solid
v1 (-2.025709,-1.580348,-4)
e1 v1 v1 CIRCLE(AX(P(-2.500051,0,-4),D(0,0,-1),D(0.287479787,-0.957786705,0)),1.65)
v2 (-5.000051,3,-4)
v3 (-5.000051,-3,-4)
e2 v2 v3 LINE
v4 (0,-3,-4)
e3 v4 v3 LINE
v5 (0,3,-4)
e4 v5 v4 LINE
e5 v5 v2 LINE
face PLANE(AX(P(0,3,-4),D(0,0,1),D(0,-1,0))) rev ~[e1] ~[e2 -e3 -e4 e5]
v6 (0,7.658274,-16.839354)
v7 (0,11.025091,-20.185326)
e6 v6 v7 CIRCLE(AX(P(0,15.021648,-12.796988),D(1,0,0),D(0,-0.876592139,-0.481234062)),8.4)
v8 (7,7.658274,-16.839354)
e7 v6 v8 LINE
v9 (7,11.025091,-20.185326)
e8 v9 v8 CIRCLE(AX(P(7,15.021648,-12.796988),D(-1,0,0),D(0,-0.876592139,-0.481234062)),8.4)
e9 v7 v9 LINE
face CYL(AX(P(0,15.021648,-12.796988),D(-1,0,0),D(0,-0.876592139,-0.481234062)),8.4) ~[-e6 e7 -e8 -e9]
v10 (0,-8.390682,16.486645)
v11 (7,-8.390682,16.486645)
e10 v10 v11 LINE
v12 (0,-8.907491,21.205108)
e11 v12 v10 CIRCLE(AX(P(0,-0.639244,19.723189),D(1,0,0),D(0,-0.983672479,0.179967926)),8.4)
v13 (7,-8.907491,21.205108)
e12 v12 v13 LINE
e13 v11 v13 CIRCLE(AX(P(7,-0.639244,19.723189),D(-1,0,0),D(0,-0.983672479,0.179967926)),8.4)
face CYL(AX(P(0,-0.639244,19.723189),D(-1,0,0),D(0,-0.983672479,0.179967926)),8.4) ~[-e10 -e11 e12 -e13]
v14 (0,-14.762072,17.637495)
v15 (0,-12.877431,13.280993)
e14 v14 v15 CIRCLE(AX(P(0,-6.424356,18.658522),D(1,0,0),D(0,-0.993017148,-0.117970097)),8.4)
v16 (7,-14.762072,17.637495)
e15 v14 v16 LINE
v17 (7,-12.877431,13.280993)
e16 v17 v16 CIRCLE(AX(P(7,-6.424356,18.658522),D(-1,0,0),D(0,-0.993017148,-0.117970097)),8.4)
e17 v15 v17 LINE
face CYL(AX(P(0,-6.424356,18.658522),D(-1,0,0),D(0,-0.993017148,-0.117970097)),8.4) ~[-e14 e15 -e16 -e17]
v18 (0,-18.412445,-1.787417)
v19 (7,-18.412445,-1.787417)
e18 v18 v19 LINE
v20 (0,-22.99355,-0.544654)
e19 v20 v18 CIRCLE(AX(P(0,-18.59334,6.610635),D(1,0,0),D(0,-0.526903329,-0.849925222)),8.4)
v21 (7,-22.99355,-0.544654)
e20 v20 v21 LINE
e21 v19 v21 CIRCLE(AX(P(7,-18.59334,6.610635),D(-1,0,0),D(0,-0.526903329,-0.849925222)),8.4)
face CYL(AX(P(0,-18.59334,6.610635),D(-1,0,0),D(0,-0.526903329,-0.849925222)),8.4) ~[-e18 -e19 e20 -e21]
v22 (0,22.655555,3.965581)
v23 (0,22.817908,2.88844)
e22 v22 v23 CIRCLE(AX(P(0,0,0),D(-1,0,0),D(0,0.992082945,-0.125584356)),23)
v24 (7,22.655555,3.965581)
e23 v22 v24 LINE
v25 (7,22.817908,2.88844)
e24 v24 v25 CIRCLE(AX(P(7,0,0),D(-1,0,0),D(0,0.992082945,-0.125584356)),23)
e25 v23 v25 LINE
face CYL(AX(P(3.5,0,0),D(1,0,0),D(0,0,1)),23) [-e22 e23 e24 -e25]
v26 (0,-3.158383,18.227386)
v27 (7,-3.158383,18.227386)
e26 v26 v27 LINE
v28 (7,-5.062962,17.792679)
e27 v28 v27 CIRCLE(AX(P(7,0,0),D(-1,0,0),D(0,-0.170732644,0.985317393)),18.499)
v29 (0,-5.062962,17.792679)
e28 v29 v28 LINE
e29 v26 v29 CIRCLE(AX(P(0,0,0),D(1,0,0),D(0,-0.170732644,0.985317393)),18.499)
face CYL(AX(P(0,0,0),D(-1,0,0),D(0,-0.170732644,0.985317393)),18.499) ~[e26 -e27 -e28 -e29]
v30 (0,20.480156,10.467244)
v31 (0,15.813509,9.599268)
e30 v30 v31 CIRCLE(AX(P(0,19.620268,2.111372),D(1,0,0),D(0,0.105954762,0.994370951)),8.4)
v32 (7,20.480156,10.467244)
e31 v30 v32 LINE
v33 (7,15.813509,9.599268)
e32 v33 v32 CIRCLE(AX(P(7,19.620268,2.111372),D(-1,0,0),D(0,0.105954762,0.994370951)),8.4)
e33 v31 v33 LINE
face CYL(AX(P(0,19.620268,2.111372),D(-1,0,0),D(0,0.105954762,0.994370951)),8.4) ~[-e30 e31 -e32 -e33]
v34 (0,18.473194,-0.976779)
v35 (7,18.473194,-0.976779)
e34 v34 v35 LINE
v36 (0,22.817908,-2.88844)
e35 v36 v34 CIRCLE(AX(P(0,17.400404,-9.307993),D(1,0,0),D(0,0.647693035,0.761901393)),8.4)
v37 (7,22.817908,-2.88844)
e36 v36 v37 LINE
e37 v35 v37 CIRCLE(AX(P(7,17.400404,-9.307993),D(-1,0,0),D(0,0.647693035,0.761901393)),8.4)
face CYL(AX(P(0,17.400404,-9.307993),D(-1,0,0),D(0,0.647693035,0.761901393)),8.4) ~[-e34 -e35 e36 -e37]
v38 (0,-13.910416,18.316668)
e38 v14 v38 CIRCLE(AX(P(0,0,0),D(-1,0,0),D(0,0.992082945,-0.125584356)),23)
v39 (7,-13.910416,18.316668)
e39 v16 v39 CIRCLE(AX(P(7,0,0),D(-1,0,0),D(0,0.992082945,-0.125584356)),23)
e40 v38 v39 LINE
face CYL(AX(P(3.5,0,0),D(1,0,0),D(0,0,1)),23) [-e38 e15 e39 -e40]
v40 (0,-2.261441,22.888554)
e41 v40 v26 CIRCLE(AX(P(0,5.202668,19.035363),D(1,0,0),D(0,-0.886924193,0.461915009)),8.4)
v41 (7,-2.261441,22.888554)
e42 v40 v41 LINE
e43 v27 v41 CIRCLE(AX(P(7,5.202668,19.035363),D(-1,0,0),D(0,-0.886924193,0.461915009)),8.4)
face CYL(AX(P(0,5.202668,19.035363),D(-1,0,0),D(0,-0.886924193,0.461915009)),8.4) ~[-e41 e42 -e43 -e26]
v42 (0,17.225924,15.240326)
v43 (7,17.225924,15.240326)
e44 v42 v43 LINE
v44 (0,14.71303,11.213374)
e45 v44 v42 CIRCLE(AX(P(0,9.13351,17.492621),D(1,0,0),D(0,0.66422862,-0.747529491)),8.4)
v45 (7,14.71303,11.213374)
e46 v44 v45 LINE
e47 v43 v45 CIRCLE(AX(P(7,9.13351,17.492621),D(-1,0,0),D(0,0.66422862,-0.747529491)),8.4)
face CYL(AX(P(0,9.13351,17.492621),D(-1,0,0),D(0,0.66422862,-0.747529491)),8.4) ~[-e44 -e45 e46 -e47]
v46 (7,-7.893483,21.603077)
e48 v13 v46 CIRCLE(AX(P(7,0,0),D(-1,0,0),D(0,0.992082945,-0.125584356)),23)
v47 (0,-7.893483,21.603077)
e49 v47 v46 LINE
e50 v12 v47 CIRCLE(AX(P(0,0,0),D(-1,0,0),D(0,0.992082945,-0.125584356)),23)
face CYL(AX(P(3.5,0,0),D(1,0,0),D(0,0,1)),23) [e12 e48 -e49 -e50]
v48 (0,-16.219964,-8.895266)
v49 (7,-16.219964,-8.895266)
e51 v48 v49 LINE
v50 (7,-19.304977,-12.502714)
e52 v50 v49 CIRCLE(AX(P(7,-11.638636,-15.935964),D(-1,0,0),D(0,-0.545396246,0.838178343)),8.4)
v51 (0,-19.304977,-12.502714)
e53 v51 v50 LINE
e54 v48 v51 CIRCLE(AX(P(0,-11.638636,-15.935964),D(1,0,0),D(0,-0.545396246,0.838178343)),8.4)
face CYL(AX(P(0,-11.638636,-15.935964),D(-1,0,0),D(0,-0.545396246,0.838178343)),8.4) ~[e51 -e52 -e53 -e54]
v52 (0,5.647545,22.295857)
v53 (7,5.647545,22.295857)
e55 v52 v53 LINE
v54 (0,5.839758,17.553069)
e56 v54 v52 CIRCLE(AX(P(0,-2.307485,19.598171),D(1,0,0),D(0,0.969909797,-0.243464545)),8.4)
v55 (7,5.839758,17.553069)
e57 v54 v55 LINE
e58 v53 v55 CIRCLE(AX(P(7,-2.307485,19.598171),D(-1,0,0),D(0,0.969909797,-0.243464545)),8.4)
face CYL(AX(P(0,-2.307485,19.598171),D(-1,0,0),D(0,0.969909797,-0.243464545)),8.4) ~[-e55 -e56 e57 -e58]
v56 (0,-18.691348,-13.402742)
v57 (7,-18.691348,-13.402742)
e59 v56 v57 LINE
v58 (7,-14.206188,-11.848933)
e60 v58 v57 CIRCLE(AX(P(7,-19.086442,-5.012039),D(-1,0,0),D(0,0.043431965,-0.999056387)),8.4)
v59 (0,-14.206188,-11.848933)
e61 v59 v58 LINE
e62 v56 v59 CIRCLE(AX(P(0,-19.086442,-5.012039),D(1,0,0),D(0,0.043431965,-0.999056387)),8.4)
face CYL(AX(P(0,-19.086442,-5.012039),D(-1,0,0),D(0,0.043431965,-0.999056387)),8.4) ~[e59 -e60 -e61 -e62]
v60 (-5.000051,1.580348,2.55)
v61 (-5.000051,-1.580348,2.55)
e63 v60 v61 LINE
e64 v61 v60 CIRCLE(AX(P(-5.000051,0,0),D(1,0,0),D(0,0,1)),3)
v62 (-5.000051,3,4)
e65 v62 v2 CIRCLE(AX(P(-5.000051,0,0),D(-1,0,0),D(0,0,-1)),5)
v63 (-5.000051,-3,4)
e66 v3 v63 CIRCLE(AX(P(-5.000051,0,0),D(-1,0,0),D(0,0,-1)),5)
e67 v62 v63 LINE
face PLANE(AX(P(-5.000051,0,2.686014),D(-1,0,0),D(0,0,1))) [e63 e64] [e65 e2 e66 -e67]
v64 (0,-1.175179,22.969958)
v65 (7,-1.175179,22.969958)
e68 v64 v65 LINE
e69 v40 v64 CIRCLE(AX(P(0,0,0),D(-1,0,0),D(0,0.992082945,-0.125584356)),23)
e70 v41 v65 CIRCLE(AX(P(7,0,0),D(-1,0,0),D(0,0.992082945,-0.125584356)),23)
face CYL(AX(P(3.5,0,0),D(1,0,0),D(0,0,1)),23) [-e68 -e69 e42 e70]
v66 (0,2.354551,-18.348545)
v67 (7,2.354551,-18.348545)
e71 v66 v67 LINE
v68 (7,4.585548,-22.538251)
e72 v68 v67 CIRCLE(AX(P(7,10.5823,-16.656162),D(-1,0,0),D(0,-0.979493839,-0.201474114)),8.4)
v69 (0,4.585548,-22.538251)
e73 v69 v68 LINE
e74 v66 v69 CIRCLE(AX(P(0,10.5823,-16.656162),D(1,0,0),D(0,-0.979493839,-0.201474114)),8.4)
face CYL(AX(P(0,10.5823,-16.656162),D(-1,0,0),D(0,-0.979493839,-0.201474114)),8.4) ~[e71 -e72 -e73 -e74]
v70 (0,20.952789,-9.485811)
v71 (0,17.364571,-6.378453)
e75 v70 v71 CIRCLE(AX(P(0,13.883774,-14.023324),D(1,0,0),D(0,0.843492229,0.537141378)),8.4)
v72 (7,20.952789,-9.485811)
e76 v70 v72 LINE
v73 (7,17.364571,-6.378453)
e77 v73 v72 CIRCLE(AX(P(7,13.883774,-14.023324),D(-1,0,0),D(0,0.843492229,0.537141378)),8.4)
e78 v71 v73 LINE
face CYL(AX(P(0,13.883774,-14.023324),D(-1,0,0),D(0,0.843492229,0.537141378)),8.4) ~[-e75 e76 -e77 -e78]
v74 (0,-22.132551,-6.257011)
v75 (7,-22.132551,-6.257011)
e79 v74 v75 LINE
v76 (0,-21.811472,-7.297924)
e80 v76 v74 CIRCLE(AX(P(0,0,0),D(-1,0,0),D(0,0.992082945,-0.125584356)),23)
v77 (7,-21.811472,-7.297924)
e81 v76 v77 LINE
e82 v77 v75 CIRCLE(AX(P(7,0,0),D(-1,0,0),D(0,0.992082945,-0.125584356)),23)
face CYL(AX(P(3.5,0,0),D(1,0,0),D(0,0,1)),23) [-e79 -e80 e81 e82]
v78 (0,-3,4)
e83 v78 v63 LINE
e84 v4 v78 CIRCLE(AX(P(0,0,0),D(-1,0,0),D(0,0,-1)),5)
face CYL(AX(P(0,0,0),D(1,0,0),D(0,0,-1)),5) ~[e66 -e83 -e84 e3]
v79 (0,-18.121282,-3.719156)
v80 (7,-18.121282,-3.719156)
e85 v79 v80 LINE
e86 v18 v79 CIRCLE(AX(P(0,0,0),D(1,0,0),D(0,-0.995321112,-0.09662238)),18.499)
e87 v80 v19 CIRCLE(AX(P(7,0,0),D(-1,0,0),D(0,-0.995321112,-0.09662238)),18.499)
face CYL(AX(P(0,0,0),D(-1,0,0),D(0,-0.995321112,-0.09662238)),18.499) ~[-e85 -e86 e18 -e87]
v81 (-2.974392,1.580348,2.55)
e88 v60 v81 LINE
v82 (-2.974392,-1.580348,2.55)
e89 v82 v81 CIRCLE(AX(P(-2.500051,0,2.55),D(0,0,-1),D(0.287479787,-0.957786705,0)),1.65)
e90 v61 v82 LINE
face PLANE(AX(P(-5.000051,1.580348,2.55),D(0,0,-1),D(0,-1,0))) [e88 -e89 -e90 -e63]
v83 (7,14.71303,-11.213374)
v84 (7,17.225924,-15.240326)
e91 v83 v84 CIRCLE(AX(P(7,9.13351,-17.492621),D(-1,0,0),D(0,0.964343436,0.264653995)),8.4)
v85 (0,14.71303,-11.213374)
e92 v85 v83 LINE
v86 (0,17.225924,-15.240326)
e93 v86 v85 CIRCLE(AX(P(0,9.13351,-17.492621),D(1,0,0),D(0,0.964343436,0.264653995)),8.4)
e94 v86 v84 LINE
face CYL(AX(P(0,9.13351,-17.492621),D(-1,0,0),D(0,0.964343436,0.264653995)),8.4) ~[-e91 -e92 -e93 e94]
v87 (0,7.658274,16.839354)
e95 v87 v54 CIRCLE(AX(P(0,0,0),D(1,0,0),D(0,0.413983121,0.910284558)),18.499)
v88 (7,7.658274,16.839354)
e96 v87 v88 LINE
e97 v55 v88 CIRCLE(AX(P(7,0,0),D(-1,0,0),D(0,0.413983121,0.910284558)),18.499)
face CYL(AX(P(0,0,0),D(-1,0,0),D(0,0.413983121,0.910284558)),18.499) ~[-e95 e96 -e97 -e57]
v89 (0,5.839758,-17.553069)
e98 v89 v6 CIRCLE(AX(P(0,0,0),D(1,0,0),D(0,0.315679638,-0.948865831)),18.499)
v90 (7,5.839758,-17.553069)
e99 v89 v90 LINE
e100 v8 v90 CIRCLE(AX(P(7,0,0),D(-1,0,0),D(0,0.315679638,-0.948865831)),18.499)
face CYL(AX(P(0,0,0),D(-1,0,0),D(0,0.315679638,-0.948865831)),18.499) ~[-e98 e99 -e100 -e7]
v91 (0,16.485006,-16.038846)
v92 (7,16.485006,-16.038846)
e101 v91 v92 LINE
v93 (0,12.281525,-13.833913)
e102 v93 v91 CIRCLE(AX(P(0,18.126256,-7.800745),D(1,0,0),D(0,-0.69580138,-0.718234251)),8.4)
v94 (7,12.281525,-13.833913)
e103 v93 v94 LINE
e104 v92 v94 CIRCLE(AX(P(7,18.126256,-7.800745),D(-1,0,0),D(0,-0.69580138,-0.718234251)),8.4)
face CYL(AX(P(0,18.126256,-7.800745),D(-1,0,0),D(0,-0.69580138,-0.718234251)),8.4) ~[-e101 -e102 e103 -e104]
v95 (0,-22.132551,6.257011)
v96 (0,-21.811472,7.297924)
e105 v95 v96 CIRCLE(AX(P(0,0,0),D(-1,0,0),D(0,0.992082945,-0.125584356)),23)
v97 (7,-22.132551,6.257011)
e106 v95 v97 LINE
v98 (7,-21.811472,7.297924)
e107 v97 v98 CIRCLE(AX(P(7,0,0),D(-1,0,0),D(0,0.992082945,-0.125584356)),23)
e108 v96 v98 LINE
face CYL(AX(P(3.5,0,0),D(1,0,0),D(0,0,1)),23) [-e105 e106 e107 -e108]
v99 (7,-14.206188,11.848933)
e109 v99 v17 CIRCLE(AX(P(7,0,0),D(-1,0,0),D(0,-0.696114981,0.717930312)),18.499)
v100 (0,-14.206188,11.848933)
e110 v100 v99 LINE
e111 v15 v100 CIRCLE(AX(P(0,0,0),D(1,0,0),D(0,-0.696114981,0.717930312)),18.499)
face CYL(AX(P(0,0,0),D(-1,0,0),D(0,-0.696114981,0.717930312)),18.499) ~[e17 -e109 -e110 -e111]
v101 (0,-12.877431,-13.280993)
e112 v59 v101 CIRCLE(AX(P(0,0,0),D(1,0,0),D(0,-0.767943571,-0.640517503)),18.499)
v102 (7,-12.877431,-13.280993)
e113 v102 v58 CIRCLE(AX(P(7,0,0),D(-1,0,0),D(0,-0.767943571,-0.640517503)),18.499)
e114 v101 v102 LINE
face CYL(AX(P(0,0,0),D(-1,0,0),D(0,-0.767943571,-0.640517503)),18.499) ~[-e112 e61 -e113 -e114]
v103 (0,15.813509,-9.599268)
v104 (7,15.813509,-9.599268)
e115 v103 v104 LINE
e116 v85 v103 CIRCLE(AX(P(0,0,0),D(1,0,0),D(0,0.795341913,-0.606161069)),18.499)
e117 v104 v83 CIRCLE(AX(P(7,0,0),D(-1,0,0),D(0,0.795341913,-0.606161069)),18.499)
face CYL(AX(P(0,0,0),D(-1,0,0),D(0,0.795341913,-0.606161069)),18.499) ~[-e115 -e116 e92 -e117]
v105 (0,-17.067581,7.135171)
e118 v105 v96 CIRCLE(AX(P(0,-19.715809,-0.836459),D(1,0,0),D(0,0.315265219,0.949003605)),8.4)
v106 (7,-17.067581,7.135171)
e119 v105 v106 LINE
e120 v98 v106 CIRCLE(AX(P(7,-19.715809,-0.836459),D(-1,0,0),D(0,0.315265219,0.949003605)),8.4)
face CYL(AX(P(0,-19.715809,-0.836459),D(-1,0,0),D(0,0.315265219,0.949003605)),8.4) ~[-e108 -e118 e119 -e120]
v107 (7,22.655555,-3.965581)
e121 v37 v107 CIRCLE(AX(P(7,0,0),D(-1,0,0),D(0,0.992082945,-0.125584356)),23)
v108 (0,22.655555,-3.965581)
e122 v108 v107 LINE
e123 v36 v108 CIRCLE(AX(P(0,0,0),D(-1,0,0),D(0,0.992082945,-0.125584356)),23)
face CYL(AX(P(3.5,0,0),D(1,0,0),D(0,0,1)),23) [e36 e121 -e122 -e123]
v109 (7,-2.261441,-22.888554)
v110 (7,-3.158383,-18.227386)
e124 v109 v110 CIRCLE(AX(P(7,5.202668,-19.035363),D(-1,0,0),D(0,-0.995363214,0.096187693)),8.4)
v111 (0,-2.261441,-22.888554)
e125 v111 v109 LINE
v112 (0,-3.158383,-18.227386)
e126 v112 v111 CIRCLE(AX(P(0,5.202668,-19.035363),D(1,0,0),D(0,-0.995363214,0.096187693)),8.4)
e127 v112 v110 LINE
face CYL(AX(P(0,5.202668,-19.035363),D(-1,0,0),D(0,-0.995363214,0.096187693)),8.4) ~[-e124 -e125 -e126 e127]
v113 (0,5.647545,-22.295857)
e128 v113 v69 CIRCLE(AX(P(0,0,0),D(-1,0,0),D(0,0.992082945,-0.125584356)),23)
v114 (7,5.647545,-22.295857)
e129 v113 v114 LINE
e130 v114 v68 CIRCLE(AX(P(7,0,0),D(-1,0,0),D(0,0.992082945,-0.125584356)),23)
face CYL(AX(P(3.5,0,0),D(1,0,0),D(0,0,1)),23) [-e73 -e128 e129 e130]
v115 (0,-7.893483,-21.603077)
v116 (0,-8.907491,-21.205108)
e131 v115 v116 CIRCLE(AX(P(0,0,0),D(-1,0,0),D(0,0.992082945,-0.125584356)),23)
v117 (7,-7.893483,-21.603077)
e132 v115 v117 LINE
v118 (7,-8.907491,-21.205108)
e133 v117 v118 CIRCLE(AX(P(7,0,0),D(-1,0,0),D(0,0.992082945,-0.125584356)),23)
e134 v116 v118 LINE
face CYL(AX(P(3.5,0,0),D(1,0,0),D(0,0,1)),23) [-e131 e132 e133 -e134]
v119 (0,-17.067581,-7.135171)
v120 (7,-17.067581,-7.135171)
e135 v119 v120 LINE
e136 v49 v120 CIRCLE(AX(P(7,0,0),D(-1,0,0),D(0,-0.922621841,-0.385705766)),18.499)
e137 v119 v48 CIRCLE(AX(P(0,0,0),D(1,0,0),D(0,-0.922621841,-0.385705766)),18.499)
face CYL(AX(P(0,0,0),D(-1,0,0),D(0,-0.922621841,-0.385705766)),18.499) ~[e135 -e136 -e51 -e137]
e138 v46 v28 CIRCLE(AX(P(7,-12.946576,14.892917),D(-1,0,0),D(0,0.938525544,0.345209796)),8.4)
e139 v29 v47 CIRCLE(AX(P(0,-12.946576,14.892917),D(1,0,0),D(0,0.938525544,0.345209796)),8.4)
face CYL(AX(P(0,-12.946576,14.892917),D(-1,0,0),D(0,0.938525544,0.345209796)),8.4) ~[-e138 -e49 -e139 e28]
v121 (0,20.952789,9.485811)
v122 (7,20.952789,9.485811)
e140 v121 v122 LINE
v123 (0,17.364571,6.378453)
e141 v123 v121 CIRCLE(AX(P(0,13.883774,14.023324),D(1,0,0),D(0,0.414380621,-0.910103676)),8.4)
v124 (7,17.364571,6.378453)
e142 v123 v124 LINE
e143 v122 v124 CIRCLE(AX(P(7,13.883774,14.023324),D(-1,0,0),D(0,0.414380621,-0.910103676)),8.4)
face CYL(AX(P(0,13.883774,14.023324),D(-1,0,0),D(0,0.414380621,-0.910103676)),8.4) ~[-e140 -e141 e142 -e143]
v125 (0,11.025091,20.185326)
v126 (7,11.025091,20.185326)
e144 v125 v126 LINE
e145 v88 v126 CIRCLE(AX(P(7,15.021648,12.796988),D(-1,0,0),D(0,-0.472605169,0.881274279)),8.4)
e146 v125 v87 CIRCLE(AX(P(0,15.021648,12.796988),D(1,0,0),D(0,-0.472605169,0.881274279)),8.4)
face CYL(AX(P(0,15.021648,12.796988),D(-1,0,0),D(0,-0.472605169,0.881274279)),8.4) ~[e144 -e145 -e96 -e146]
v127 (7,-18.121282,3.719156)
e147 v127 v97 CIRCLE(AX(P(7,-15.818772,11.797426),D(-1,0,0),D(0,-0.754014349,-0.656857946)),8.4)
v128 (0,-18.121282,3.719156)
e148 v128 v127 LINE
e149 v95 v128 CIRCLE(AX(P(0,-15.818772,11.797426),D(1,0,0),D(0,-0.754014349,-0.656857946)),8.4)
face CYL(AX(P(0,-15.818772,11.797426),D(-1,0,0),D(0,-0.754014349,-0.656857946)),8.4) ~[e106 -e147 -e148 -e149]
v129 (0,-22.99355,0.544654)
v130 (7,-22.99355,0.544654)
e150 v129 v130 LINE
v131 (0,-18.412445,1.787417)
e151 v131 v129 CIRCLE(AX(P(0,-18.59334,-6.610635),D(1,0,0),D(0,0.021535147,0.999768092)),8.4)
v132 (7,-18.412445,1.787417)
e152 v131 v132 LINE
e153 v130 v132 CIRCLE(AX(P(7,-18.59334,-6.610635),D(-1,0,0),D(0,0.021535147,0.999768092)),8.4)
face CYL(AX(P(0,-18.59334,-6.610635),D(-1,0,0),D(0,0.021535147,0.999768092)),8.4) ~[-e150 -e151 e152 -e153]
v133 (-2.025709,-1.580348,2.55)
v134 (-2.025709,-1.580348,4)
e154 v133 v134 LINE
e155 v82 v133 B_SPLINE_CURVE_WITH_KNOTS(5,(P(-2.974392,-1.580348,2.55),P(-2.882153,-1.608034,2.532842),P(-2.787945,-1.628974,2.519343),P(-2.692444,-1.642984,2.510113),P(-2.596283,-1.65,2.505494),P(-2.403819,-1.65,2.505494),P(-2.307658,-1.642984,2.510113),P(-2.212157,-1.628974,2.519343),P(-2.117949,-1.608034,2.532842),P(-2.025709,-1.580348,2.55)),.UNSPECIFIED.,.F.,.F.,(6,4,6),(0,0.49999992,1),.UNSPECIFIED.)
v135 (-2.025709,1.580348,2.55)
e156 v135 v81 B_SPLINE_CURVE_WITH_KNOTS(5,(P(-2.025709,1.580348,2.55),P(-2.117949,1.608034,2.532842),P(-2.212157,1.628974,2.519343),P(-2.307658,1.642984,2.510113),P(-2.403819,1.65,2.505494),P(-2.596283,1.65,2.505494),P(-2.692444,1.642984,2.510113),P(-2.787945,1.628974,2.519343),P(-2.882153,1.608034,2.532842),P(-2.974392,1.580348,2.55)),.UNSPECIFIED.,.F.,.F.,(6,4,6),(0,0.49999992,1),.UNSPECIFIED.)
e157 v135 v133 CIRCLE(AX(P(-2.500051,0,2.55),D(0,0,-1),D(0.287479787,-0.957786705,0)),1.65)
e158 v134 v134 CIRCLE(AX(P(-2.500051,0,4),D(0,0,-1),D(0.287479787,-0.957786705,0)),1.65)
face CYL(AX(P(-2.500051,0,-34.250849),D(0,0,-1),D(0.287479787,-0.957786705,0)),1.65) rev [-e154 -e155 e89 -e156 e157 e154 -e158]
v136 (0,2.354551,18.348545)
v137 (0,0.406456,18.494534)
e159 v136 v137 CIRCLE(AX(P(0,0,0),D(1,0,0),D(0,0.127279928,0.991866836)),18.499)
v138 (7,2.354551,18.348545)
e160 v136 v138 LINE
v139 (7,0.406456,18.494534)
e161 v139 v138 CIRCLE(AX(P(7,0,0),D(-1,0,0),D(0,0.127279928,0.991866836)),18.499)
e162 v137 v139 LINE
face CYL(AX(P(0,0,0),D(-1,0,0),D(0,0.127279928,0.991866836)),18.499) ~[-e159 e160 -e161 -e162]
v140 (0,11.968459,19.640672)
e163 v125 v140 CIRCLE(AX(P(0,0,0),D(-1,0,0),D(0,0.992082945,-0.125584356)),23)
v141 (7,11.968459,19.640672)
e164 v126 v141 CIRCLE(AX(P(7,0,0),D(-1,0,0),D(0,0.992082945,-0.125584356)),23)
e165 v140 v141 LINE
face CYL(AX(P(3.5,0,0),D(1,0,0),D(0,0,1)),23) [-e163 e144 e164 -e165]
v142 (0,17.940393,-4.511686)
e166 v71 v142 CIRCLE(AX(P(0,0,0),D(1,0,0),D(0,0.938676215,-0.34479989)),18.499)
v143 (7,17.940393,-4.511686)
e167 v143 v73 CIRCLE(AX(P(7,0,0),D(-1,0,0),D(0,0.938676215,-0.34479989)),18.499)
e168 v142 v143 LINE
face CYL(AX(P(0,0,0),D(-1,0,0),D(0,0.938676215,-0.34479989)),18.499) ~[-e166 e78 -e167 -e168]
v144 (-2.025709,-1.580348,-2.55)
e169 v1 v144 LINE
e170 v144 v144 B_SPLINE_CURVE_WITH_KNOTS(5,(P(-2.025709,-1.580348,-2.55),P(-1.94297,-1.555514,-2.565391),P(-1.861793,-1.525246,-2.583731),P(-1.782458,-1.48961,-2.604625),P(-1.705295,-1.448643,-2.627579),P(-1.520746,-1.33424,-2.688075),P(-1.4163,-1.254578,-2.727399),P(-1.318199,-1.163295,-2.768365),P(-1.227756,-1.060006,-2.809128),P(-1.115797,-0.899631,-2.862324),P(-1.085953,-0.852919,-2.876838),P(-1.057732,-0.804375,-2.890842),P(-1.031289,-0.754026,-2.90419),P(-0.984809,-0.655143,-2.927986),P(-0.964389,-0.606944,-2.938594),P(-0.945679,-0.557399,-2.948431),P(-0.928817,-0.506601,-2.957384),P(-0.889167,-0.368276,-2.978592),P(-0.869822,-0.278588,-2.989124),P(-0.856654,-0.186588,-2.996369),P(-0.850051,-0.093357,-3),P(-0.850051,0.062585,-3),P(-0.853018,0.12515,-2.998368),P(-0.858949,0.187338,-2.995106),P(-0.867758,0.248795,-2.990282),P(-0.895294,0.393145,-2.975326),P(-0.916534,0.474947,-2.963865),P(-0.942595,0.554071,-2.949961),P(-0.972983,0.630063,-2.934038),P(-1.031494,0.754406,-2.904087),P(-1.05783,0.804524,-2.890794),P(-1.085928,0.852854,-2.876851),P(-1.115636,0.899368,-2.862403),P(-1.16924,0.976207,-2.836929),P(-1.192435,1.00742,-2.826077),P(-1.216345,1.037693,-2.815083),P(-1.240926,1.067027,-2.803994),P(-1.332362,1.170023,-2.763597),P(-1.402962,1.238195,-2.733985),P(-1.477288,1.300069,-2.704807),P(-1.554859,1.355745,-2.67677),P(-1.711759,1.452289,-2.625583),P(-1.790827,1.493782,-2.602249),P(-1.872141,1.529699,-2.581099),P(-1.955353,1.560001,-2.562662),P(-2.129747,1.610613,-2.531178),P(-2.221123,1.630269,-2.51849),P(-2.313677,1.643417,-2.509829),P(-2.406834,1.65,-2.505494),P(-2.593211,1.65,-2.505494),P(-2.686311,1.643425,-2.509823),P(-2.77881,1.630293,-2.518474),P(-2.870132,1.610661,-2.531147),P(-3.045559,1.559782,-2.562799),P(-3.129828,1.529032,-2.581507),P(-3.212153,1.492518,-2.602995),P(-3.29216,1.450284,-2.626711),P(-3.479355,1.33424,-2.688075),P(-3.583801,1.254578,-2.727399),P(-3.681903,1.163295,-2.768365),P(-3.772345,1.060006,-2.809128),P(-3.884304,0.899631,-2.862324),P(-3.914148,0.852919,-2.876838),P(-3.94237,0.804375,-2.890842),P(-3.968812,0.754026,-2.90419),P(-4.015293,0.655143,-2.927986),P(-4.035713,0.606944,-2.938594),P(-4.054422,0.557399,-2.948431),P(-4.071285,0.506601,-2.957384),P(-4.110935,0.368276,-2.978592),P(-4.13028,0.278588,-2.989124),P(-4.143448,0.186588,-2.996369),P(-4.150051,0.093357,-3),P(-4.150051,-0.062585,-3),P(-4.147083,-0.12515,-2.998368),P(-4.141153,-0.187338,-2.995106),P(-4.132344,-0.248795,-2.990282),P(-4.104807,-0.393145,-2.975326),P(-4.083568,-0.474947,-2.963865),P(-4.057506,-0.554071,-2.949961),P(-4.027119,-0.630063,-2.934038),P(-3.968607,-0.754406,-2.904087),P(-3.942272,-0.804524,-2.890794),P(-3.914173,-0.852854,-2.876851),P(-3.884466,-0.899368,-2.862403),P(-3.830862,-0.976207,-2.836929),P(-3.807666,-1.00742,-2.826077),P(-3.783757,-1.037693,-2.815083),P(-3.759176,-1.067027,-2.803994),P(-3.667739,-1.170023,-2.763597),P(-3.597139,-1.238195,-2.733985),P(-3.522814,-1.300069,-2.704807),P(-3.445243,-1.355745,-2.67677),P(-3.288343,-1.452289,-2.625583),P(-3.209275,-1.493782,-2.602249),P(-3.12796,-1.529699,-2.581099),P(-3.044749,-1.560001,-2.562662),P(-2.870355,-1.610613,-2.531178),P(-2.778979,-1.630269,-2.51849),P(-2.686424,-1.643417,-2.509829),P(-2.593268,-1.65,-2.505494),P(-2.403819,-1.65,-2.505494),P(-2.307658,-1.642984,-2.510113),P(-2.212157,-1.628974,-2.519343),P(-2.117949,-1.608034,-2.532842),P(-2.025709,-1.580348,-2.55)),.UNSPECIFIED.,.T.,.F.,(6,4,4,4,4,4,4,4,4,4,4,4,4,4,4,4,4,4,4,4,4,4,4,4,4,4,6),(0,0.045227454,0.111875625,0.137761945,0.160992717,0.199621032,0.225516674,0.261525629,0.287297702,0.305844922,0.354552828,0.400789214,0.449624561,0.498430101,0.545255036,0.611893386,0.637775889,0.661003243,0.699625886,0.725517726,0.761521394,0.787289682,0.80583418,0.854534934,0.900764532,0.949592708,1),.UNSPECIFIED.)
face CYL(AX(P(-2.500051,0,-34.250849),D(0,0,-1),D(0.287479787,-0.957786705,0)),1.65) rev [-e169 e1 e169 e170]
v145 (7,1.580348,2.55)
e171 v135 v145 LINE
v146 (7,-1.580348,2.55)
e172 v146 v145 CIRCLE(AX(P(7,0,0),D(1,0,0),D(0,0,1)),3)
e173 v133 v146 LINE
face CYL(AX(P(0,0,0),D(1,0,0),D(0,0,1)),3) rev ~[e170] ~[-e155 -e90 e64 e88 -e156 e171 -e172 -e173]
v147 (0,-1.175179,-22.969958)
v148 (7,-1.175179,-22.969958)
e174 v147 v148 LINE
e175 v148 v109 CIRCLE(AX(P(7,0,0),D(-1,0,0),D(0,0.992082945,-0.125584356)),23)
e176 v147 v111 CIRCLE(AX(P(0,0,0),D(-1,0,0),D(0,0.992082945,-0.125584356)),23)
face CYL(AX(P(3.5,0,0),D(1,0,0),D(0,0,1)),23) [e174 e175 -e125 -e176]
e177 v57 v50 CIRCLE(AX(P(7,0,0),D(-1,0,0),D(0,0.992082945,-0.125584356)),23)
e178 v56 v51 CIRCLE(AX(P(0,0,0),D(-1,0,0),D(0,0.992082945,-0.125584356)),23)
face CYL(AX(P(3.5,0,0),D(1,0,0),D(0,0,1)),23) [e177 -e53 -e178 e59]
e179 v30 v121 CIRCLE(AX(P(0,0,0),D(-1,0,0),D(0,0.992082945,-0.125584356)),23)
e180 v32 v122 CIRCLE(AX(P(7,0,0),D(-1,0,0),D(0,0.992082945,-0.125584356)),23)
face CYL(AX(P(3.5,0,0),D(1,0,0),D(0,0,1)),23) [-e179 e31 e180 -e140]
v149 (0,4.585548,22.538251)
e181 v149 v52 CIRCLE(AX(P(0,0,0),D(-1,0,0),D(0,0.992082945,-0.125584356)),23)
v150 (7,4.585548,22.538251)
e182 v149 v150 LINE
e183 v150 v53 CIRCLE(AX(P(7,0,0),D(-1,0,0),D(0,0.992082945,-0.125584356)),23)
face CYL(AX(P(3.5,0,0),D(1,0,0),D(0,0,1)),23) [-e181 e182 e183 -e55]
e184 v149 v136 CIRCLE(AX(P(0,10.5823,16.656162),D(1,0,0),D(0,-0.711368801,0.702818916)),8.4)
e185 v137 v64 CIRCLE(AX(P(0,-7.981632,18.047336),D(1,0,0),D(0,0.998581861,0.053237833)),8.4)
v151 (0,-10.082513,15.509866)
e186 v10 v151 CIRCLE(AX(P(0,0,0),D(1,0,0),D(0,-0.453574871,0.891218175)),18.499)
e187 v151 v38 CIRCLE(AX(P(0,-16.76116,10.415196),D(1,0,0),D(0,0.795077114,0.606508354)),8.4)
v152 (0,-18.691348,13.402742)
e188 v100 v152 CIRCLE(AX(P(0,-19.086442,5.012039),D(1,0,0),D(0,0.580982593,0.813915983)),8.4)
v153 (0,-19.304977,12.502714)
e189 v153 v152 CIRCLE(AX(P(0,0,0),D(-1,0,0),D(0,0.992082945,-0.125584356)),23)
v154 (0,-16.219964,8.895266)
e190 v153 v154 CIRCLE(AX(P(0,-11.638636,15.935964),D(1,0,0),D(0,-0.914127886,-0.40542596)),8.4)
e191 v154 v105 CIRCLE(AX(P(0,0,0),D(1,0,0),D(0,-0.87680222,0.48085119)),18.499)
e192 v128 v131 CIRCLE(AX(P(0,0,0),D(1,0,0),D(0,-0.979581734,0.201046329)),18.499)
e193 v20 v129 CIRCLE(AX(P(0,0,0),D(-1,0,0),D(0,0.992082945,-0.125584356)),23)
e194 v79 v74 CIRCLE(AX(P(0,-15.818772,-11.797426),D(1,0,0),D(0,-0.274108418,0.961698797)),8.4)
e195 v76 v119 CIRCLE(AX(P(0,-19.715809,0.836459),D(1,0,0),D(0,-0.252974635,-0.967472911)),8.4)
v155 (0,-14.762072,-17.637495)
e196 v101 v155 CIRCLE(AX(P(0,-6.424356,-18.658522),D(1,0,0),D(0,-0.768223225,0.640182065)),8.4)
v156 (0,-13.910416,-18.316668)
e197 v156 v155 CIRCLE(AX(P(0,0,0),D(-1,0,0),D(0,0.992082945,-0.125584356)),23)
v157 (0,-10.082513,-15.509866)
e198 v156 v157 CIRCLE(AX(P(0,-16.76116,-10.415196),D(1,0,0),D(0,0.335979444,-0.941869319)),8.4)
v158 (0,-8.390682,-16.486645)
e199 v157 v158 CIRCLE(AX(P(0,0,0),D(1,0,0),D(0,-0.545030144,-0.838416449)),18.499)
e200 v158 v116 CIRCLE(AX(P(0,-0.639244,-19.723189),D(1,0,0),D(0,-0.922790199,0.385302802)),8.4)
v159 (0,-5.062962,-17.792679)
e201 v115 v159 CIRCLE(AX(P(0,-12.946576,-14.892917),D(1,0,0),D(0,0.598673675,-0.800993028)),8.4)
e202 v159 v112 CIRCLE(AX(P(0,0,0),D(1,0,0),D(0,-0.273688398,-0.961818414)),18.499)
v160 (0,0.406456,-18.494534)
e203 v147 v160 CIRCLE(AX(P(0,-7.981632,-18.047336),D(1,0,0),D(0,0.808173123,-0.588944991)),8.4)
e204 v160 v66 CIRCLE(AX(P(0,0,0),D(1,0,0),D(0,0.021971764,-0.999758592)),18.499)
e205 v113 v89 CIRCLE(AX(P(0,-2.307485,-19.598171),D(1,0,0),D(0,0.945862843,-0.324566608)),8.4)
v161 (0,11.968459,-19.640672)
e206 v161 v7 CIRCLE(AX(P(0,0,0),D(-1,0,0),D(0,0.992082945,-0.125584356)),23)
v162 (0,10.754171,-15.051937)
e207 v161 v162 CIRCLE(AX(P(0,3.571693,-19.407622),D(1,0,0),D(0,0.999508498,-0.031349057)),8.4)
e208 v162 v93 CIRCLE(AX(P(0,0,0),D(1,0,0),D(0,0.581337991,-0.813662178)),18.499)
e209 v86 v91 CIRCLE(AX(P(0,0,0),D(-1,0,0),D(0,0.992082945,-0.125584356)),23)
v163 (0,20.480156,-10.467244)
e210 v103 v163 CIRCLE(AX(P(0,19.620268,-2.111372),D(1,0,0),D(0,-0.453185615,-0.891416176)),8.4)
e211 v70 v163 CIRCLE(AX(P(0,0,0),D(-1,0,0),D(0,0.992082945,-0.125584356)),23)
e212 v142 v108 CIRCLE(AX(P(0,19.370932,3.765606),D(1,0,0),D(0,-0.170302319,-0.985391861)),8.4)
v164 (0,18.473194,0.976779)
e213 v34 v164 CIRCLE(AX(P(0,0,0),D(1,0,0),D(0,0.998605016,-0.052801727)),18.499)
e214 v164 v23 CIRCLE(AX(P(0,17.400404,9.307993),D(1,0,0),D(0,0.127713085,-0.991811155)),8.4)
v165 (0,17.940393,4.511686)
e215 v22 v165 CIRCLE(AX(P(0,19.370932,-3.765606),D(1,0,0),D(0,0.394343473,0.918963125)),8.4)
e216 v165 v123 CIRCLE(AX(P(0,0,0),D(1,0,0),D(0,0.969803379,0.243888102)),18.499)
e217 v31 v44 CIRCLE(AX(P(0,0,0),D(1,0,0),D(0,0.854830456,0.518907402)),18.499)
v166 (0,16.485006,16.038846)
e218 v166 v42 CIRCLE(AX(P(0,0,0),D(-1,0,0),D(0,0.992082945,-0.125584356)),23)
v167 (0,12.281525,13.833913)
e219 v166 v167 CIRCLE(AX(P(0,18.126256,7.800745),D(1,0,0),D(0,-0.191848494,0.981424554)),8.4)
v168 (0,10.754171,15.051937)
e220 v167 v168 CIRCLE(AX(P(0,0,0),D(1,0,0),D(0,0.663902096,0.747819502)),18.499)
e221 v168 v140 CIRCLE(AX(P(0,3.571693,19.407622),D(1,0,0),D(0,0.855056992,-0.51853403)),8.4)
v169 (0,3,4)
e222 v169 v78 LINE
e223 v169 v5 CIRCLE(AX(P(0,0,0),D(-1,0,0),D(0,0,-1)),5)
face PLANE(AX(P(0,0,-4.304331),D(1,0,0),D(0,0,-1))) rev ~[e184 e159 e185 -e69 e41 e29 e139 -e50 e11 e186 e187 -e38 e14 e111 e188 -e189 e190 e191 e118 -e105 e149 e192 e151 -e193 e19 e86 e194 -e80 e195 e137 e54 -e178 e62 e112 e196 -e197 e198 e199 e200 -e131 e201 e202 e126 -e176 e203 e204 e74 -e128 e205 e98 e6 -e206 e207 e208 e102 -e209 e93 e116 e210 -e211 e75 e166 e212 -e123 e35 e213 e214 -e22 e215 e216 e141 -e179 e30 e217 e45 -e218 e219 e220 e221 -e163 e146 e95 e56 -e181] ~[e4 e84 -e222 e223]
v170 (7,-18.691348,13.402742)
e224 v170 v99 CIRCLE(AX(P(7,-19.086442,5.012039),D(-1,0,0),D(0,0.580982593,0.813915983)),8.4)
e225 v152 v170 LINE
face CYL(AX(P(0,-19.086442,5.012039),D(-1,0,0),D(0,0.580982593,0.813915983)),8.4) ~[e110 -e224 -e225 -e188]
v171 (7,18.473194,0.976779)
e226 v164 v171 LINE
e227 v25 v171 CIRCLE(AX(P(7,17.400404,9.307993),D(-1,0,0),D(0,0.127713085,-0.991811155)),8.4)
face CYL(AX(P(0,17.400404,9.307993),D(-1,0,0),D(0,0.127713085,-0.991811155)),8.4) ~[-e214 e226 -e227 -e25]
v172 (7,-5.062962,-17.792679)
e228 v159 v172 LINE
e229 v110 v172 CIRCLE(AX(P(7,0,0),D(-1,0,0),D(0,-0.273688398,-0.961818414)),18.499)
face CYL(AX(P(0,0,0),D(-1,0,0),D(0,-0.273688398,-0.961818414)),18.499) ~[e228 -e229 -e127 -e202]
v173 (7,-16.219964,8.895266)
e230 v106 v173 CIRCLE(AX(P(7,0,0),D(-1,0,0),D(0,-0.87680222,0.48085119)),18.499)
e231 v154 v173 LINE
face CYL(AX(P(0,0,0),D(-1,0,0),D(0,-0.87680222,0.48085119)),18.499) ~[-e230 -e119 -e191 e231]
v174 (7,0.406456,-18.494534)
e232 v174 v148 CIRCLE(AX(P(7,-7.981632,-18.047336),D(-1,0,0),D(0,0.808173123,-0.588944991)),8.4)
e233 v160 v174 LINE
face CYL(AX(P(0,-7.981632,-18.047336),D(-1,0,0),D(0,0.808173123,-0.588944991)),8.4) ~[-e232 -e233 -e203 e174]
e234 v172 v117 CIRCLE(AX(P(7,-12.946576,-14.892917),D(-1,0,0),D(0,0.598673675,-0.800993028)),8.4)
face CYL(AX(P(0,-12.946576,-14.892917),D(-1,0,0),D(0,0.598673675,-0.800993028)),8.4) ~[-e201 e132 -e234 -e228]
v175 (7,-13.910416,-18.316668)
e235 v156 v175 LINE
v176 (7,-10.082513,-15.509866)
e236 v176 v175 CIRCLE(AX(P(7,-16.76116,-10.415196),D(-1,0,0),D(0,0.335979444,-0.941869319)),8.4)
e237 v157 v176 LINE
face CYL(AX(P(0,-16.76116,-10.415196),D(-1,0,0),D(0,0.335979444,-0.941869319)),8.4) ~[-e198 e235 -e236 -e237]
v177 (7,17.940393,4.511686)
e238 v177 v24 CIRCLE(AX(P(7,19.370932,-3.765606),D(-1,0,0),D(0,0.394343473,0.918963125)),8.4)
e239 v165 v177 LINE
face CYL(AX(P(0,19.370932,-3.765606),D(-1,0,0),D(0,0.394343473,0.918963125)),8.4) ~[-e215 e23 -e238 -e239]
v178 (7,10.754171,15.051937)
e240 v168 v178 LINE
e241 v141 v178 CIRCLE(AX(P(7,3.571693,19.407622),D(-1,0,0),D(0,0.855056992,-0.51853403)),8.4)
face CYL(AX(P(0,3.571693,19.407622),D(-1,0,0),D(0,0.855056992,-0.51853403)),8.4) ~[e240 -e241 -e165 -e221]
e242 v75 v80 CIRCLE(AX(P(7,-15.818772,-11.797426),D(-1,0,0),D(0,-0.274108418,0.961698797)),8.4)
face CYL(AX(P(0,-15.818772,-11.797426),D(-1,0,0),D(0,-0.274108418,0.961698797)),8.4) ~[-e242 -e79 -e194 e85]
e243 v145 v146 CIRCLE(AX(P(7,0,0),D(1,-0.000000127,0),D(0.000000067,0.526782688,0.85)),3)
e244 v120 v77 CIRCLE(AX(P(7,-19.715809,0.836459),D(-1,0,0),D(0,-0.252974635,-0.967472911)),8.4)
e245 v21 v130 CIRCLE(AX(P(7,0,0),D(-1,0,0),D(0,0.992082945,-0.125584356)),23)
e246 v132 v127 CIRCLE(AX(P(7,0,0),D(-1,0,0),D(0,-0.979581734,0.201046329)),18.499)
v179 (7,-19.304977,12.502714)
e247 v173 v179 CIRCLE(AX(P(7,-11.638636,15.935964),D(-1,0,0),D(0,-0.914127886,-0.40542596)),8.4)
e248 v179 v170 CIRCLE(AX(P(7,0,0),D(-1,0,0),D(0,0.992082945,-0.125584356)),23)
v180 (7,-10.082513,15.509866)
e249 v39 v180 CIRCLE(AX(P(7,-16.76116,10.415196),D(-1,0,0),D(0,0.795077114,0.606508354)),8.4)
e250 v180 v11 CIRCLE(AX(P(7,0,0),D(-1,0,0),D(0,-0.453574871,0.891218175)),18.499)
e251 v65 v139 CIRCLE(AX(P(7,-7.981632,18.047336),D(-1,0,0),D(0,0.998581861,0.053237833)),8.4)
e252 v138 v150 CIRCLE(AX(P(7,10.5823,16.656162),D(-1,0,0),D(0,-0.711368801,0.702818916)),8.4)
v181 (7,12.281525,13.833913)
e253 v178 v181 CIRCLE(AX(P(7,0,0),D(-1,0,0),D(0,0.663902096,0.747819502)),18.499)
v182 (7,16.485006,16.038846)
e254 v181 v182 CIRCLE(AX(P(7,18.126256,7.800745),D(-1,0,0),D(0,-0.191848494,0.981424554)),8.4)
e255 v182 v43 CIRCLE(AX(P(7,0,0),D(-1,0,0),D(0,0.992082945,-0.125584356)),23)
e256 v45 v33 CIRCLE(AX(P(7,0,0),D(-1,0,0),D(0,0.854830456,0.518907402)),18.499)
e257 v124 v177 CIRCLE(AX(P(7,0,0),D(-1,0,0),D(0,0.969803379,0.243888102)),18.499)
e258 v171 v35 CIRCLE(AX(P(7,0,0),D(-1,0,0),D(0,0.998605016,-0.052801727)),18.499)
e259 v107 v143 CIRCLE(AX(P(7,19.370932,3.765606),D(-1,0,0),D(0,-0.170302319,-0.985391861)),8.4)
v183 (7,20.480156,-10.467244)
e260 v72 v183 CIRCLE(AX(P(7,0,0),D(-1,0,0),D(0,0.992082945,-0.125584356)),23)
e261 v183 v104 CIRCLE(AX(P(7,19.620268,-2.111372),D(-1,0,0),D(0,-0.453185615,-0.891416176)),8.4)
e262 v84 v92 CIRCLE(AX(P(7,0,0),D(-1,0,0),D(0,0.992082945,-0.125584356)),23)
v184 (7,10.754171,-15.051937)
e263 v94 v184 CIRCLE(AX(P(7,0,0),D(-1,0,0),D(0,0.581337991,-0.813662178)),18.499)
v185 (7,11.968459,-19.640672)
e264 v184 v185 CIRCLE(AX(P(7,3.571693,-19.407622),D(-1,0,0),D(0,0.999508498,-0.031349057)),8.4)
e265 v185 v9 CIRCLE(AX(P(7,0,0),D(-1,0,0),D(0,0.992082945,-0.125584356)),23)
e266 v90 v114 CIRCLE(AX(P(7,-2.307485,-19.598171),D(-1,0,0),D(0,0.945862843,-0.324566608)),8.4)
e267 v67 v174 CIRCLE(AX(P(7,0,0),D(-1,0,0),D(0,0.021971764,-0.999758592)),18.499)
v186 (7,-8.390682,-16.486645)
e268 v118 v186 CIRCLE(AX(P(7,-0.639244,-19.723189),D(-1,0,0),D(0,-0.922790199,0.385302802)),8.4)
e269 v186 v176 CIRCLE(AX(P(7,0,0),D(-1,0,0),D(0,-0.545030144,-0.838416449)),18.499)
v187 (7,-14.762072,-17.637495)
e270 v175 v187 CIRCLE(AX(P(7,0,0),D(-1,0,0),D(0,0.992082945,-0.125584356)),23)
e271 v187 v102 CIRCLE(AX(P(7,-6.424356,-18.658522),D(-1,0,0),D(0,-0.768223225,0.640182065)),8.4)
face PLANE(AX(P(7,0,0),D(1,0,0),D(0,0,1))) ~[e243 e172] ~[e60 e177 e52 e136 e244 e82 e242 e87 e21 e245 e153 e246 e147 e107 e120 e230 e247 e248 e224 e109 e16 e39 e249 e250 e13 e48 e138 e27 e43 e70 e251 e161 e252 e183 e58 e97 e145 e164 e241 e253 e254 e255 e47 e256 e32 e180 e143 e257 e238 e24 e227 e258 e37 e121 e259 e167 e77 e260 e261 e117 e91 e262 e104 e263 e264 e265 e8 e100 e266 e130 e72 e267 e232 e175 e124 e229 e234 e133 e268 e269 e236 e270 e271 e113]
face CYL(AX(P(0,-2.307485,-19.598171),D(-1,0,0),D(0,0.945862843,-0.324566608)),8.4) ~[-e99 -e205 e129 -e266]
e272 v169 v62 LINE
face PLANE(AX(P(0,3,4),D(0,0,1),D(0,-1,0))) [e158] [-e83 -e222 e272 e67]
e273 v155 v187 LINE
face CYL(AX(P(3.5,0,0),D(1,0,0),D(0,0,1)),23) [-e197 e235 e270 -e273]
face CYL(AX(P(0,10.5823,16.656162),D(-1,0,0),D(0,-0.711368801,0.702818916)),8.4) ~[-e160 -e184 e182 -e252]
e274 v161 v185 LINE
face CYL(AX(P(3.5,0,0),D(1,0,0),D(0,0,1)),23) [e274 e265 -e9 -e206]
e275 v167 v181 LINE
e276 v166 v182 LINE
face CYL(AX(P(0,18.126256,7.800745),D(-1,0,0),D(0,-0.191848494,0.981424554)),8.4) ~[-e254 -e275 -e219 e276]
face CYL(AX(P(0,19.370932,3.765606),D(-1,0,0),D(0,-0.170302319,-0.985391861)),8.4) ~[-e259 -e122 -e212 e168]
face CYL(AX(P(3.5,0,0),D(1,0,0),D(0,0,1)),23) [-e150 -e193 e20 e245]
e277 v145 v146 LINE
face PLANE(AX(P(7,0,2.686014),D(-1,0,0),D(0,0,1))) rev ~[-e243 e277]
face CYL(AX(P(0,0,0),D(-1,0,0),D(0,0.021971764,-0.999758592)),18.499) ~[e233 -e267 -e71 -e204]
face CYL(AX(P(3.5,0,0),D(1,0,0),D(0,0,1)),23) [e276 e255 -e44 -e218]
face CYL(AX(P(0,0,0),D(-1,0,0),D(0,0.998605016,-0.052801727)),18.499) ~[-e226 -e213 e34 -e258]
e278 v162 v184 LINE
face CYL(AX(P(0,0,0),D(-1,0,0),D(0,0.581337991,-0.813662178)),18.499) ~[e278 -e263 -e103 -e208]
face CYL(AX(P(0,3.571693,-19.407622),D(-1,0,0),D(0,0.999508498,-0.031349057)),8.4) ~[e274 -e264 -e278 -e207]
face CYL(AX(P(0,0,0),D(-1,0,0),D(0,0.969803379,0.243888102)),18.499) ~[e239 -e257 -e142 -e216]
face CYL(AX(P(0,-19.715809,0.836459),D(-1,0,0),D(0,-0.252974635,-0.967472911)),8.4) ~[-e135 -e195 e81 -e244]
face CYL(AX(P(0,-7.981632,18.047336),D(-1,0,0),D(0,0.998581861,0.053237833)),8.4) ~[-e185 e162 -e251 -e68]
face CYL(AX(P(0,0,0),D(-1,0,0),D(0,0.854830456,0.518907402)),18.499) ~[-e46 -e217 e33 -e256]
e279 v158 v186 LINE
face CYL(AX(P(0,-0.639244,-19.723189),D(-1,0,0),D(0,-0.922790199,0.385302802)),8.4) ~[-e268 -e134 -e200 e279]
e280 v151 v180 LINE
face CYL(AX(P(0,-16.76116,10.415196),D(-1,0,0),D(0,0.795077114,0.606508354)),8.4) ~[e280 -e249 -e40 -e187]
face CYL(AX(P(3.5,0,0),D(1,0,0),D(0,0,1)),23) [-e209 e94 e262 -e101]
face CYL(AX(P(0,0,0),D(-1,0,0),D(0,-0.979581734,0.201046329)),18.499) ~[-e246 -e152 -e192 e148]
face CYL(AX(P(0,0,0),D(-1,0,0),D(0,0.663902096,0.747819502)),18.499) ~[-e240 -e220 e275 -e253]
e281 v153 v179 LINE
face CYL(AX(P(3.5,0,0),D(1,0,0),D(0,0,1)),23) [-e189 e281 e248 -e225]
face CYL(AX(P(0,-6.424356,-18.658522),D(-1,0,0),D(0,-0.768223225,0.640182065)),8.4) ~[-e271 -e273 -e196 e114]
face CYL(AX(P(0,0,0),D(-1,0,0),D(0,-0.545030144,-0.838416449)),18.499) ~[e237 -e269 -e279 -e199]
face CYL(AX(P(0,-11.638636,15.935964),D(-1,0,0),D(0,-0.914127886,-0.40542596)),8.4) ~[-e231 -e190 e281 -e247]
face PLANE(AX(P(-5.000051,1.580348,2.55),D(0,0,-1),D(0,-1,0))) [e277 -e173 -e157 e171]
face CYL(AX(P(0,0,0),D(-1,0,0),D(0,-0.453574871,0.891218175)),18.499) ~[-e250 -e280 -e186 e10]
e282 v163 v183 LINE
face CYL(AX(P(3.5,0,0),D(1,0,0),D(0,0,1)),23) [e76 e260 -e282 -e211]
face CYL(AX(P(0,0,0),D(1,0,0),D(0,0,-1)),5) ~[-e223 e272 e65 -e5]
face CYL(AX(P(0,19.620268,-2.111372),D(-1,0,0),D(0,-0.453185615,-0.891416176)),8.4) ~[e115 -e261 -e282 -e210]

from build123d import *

# Parameters (mm, degrees)
BASPROSKE_W              = 7
BASPROSKE_H              = 23
TOOTHCUT_DEPTH           = 34.271609519
TEETHCUTS_COUNT          = 21
TEETHCUTS_ANGLE          = 342.857142857
HUBNEAONESKE_R           = 5
HUBNEARONE_DEPTH         = 5.0000508
BORSKE_R                 = 3
BORE_DEPTH               = 12.0000508
EXTRUDE_1_DEPTH          = 12.000051
CUT_EXTRUDE_START        = -5.0000508
CUT_EXTRUDE_2_DEPTH      = 5.0000508
CUT_EXTRUDE_3_DEPTH      = 34.250848963
CUT_EXTRUDE_3_DEPTH_BACK = 34.250848963
SKETCH_3_R               = 1.65


with BuildPart() as part:
    # BasProSke → Base-Revolve (revolve)
    with BuildSketch(Plane(origin=(0, 0, 0), x_dir=(1, 0, 0), z_dir=(0, 1, 0)), mode=Mode.PRIVATE) as base_revolve_sk:
        with Locations((3.5, 11.5)):
            Rectangle(BASPROSKE_W, BASPROSKE_H)
    revolve(base_revolve_sk.sketch.rotate(Axis((-10, 0, 0), (1, 0, 0)), 180), axis=Axis((-10, 0, 0), (1, 0, 0)))

    # TooCutSke → ToothCut (cut, through all)
    with BuildSketch(Plane(origin=(0, 0, 0), x_dir=(0, 0, -1), z_dir=(1, 0, 0))):
        with BuildLine():
            ThreePointArc((0.976779145, 18.473194188), (0, 18.499), (-0.976779145, 18.473194188))
            ThreePointArc((-0.976779145, 18.473194188), (-1.625451341, 20.797249275), (-2.90802115, 22.841025768))
            ThreePointArc((-2.90802115, 22.841025768), (0, 23.0254), (2.90802115, 22.841025768))
            ThreePointArc((2.90802115, 22.841025768), (1.625451341, 20.797249275), (0.976779145, 18.473194188))
        make_face()
    toothcut = extrude(amount=TOOTHCUT_DEPTH, mode=Mode.SUBTRACT)

    # TeethCuts: ToothCut ×21 about axis
    teethcuts_axis = Axis((-10, 0, 0), (1, 0, 0))
    for i in range(1, TEETHCUTS_COUNT):
        add(toothcut.rotate(teethcuts_axis, i * TEETHCUTS_ANGLE / (TEETHCUTS_COUNT - 1)), mode=Mode.SUBTRACT)

    # HubNeaOneSke → HubNearOne (add)
    with BuildSketch(Plane.ZY):
        with Locations(Location((0, 0, 0), (0, 0, 180))):
            Circle(HUBNEAONESKE_R)
    extrude(amount=HUBNEARONE_DEPTH)

    # BorSke → Bore (cut, symmetric)
    with BuildSketch(Plane(origin=(0, 0, 0), x_dir=(0, 0, -1), z_dir=(1, 0, 0))):
        with Locations(Location((0, 0, 0), (0, 0, 180))):
            Circle(BORSKE_R)
    extrude(amount=BORE_DEPTH, both=True, mode=Mode.SUBTRACT)

    # 草图1 → 凸台-拉伸1 (add, through all)
    with BuildSketch(Plane.ZY.offset(5.0000508)):
        with BuildLine():
            Line((2.55, 1.580348063), (2.55, -1.580348063))
            ThreePointArc((2.55, -1.580348063), (3, 0), (2.55, 1.580348063))
        make_face()
    extrude(amount=-EXTRUDE_1_DEPTH)

    # 草图4 → 切除-拉伸2 (cut)
    with BuildSketch(Plane.ZY.offset(5.0000508).offset(CUT_EXTRUDE_START)):
        with BuildLine():
            Line((-4, 3), (-4, -3))
            ThreePointArc((-4, -3), (-5, 0), (-4, 3))
        make_face()
        with BuildLine():
            Line((4, 3), (4, -3))
            ThreePointArc((4, -3), (5, 0), (4, 3))
        make_face()
    extrude(amount=CUT_EXTRUDE_2_DEPTH, mode=Mode.SUBTRACT)

    # 草图3 → 切除-拉伸3 (cut, two sides: drawn at the far end of the back side and taken through both)
    with BuildSketch(Plane.XY.offset(-CUT_EXTRUDE_3_DEPTH_BACK)):
        with Locations(Location((-2.5000508, 0, 0), (0, 0, 286.707134567))):
            Circle(SKETCH_3_R)
    extrude(amount=CUT_EXTRUDE_3_DEPTH + CUT_EXTRUDE_3_DEPTH_BACK, mode=Mode.SUBTRACT)


solid = part.part
